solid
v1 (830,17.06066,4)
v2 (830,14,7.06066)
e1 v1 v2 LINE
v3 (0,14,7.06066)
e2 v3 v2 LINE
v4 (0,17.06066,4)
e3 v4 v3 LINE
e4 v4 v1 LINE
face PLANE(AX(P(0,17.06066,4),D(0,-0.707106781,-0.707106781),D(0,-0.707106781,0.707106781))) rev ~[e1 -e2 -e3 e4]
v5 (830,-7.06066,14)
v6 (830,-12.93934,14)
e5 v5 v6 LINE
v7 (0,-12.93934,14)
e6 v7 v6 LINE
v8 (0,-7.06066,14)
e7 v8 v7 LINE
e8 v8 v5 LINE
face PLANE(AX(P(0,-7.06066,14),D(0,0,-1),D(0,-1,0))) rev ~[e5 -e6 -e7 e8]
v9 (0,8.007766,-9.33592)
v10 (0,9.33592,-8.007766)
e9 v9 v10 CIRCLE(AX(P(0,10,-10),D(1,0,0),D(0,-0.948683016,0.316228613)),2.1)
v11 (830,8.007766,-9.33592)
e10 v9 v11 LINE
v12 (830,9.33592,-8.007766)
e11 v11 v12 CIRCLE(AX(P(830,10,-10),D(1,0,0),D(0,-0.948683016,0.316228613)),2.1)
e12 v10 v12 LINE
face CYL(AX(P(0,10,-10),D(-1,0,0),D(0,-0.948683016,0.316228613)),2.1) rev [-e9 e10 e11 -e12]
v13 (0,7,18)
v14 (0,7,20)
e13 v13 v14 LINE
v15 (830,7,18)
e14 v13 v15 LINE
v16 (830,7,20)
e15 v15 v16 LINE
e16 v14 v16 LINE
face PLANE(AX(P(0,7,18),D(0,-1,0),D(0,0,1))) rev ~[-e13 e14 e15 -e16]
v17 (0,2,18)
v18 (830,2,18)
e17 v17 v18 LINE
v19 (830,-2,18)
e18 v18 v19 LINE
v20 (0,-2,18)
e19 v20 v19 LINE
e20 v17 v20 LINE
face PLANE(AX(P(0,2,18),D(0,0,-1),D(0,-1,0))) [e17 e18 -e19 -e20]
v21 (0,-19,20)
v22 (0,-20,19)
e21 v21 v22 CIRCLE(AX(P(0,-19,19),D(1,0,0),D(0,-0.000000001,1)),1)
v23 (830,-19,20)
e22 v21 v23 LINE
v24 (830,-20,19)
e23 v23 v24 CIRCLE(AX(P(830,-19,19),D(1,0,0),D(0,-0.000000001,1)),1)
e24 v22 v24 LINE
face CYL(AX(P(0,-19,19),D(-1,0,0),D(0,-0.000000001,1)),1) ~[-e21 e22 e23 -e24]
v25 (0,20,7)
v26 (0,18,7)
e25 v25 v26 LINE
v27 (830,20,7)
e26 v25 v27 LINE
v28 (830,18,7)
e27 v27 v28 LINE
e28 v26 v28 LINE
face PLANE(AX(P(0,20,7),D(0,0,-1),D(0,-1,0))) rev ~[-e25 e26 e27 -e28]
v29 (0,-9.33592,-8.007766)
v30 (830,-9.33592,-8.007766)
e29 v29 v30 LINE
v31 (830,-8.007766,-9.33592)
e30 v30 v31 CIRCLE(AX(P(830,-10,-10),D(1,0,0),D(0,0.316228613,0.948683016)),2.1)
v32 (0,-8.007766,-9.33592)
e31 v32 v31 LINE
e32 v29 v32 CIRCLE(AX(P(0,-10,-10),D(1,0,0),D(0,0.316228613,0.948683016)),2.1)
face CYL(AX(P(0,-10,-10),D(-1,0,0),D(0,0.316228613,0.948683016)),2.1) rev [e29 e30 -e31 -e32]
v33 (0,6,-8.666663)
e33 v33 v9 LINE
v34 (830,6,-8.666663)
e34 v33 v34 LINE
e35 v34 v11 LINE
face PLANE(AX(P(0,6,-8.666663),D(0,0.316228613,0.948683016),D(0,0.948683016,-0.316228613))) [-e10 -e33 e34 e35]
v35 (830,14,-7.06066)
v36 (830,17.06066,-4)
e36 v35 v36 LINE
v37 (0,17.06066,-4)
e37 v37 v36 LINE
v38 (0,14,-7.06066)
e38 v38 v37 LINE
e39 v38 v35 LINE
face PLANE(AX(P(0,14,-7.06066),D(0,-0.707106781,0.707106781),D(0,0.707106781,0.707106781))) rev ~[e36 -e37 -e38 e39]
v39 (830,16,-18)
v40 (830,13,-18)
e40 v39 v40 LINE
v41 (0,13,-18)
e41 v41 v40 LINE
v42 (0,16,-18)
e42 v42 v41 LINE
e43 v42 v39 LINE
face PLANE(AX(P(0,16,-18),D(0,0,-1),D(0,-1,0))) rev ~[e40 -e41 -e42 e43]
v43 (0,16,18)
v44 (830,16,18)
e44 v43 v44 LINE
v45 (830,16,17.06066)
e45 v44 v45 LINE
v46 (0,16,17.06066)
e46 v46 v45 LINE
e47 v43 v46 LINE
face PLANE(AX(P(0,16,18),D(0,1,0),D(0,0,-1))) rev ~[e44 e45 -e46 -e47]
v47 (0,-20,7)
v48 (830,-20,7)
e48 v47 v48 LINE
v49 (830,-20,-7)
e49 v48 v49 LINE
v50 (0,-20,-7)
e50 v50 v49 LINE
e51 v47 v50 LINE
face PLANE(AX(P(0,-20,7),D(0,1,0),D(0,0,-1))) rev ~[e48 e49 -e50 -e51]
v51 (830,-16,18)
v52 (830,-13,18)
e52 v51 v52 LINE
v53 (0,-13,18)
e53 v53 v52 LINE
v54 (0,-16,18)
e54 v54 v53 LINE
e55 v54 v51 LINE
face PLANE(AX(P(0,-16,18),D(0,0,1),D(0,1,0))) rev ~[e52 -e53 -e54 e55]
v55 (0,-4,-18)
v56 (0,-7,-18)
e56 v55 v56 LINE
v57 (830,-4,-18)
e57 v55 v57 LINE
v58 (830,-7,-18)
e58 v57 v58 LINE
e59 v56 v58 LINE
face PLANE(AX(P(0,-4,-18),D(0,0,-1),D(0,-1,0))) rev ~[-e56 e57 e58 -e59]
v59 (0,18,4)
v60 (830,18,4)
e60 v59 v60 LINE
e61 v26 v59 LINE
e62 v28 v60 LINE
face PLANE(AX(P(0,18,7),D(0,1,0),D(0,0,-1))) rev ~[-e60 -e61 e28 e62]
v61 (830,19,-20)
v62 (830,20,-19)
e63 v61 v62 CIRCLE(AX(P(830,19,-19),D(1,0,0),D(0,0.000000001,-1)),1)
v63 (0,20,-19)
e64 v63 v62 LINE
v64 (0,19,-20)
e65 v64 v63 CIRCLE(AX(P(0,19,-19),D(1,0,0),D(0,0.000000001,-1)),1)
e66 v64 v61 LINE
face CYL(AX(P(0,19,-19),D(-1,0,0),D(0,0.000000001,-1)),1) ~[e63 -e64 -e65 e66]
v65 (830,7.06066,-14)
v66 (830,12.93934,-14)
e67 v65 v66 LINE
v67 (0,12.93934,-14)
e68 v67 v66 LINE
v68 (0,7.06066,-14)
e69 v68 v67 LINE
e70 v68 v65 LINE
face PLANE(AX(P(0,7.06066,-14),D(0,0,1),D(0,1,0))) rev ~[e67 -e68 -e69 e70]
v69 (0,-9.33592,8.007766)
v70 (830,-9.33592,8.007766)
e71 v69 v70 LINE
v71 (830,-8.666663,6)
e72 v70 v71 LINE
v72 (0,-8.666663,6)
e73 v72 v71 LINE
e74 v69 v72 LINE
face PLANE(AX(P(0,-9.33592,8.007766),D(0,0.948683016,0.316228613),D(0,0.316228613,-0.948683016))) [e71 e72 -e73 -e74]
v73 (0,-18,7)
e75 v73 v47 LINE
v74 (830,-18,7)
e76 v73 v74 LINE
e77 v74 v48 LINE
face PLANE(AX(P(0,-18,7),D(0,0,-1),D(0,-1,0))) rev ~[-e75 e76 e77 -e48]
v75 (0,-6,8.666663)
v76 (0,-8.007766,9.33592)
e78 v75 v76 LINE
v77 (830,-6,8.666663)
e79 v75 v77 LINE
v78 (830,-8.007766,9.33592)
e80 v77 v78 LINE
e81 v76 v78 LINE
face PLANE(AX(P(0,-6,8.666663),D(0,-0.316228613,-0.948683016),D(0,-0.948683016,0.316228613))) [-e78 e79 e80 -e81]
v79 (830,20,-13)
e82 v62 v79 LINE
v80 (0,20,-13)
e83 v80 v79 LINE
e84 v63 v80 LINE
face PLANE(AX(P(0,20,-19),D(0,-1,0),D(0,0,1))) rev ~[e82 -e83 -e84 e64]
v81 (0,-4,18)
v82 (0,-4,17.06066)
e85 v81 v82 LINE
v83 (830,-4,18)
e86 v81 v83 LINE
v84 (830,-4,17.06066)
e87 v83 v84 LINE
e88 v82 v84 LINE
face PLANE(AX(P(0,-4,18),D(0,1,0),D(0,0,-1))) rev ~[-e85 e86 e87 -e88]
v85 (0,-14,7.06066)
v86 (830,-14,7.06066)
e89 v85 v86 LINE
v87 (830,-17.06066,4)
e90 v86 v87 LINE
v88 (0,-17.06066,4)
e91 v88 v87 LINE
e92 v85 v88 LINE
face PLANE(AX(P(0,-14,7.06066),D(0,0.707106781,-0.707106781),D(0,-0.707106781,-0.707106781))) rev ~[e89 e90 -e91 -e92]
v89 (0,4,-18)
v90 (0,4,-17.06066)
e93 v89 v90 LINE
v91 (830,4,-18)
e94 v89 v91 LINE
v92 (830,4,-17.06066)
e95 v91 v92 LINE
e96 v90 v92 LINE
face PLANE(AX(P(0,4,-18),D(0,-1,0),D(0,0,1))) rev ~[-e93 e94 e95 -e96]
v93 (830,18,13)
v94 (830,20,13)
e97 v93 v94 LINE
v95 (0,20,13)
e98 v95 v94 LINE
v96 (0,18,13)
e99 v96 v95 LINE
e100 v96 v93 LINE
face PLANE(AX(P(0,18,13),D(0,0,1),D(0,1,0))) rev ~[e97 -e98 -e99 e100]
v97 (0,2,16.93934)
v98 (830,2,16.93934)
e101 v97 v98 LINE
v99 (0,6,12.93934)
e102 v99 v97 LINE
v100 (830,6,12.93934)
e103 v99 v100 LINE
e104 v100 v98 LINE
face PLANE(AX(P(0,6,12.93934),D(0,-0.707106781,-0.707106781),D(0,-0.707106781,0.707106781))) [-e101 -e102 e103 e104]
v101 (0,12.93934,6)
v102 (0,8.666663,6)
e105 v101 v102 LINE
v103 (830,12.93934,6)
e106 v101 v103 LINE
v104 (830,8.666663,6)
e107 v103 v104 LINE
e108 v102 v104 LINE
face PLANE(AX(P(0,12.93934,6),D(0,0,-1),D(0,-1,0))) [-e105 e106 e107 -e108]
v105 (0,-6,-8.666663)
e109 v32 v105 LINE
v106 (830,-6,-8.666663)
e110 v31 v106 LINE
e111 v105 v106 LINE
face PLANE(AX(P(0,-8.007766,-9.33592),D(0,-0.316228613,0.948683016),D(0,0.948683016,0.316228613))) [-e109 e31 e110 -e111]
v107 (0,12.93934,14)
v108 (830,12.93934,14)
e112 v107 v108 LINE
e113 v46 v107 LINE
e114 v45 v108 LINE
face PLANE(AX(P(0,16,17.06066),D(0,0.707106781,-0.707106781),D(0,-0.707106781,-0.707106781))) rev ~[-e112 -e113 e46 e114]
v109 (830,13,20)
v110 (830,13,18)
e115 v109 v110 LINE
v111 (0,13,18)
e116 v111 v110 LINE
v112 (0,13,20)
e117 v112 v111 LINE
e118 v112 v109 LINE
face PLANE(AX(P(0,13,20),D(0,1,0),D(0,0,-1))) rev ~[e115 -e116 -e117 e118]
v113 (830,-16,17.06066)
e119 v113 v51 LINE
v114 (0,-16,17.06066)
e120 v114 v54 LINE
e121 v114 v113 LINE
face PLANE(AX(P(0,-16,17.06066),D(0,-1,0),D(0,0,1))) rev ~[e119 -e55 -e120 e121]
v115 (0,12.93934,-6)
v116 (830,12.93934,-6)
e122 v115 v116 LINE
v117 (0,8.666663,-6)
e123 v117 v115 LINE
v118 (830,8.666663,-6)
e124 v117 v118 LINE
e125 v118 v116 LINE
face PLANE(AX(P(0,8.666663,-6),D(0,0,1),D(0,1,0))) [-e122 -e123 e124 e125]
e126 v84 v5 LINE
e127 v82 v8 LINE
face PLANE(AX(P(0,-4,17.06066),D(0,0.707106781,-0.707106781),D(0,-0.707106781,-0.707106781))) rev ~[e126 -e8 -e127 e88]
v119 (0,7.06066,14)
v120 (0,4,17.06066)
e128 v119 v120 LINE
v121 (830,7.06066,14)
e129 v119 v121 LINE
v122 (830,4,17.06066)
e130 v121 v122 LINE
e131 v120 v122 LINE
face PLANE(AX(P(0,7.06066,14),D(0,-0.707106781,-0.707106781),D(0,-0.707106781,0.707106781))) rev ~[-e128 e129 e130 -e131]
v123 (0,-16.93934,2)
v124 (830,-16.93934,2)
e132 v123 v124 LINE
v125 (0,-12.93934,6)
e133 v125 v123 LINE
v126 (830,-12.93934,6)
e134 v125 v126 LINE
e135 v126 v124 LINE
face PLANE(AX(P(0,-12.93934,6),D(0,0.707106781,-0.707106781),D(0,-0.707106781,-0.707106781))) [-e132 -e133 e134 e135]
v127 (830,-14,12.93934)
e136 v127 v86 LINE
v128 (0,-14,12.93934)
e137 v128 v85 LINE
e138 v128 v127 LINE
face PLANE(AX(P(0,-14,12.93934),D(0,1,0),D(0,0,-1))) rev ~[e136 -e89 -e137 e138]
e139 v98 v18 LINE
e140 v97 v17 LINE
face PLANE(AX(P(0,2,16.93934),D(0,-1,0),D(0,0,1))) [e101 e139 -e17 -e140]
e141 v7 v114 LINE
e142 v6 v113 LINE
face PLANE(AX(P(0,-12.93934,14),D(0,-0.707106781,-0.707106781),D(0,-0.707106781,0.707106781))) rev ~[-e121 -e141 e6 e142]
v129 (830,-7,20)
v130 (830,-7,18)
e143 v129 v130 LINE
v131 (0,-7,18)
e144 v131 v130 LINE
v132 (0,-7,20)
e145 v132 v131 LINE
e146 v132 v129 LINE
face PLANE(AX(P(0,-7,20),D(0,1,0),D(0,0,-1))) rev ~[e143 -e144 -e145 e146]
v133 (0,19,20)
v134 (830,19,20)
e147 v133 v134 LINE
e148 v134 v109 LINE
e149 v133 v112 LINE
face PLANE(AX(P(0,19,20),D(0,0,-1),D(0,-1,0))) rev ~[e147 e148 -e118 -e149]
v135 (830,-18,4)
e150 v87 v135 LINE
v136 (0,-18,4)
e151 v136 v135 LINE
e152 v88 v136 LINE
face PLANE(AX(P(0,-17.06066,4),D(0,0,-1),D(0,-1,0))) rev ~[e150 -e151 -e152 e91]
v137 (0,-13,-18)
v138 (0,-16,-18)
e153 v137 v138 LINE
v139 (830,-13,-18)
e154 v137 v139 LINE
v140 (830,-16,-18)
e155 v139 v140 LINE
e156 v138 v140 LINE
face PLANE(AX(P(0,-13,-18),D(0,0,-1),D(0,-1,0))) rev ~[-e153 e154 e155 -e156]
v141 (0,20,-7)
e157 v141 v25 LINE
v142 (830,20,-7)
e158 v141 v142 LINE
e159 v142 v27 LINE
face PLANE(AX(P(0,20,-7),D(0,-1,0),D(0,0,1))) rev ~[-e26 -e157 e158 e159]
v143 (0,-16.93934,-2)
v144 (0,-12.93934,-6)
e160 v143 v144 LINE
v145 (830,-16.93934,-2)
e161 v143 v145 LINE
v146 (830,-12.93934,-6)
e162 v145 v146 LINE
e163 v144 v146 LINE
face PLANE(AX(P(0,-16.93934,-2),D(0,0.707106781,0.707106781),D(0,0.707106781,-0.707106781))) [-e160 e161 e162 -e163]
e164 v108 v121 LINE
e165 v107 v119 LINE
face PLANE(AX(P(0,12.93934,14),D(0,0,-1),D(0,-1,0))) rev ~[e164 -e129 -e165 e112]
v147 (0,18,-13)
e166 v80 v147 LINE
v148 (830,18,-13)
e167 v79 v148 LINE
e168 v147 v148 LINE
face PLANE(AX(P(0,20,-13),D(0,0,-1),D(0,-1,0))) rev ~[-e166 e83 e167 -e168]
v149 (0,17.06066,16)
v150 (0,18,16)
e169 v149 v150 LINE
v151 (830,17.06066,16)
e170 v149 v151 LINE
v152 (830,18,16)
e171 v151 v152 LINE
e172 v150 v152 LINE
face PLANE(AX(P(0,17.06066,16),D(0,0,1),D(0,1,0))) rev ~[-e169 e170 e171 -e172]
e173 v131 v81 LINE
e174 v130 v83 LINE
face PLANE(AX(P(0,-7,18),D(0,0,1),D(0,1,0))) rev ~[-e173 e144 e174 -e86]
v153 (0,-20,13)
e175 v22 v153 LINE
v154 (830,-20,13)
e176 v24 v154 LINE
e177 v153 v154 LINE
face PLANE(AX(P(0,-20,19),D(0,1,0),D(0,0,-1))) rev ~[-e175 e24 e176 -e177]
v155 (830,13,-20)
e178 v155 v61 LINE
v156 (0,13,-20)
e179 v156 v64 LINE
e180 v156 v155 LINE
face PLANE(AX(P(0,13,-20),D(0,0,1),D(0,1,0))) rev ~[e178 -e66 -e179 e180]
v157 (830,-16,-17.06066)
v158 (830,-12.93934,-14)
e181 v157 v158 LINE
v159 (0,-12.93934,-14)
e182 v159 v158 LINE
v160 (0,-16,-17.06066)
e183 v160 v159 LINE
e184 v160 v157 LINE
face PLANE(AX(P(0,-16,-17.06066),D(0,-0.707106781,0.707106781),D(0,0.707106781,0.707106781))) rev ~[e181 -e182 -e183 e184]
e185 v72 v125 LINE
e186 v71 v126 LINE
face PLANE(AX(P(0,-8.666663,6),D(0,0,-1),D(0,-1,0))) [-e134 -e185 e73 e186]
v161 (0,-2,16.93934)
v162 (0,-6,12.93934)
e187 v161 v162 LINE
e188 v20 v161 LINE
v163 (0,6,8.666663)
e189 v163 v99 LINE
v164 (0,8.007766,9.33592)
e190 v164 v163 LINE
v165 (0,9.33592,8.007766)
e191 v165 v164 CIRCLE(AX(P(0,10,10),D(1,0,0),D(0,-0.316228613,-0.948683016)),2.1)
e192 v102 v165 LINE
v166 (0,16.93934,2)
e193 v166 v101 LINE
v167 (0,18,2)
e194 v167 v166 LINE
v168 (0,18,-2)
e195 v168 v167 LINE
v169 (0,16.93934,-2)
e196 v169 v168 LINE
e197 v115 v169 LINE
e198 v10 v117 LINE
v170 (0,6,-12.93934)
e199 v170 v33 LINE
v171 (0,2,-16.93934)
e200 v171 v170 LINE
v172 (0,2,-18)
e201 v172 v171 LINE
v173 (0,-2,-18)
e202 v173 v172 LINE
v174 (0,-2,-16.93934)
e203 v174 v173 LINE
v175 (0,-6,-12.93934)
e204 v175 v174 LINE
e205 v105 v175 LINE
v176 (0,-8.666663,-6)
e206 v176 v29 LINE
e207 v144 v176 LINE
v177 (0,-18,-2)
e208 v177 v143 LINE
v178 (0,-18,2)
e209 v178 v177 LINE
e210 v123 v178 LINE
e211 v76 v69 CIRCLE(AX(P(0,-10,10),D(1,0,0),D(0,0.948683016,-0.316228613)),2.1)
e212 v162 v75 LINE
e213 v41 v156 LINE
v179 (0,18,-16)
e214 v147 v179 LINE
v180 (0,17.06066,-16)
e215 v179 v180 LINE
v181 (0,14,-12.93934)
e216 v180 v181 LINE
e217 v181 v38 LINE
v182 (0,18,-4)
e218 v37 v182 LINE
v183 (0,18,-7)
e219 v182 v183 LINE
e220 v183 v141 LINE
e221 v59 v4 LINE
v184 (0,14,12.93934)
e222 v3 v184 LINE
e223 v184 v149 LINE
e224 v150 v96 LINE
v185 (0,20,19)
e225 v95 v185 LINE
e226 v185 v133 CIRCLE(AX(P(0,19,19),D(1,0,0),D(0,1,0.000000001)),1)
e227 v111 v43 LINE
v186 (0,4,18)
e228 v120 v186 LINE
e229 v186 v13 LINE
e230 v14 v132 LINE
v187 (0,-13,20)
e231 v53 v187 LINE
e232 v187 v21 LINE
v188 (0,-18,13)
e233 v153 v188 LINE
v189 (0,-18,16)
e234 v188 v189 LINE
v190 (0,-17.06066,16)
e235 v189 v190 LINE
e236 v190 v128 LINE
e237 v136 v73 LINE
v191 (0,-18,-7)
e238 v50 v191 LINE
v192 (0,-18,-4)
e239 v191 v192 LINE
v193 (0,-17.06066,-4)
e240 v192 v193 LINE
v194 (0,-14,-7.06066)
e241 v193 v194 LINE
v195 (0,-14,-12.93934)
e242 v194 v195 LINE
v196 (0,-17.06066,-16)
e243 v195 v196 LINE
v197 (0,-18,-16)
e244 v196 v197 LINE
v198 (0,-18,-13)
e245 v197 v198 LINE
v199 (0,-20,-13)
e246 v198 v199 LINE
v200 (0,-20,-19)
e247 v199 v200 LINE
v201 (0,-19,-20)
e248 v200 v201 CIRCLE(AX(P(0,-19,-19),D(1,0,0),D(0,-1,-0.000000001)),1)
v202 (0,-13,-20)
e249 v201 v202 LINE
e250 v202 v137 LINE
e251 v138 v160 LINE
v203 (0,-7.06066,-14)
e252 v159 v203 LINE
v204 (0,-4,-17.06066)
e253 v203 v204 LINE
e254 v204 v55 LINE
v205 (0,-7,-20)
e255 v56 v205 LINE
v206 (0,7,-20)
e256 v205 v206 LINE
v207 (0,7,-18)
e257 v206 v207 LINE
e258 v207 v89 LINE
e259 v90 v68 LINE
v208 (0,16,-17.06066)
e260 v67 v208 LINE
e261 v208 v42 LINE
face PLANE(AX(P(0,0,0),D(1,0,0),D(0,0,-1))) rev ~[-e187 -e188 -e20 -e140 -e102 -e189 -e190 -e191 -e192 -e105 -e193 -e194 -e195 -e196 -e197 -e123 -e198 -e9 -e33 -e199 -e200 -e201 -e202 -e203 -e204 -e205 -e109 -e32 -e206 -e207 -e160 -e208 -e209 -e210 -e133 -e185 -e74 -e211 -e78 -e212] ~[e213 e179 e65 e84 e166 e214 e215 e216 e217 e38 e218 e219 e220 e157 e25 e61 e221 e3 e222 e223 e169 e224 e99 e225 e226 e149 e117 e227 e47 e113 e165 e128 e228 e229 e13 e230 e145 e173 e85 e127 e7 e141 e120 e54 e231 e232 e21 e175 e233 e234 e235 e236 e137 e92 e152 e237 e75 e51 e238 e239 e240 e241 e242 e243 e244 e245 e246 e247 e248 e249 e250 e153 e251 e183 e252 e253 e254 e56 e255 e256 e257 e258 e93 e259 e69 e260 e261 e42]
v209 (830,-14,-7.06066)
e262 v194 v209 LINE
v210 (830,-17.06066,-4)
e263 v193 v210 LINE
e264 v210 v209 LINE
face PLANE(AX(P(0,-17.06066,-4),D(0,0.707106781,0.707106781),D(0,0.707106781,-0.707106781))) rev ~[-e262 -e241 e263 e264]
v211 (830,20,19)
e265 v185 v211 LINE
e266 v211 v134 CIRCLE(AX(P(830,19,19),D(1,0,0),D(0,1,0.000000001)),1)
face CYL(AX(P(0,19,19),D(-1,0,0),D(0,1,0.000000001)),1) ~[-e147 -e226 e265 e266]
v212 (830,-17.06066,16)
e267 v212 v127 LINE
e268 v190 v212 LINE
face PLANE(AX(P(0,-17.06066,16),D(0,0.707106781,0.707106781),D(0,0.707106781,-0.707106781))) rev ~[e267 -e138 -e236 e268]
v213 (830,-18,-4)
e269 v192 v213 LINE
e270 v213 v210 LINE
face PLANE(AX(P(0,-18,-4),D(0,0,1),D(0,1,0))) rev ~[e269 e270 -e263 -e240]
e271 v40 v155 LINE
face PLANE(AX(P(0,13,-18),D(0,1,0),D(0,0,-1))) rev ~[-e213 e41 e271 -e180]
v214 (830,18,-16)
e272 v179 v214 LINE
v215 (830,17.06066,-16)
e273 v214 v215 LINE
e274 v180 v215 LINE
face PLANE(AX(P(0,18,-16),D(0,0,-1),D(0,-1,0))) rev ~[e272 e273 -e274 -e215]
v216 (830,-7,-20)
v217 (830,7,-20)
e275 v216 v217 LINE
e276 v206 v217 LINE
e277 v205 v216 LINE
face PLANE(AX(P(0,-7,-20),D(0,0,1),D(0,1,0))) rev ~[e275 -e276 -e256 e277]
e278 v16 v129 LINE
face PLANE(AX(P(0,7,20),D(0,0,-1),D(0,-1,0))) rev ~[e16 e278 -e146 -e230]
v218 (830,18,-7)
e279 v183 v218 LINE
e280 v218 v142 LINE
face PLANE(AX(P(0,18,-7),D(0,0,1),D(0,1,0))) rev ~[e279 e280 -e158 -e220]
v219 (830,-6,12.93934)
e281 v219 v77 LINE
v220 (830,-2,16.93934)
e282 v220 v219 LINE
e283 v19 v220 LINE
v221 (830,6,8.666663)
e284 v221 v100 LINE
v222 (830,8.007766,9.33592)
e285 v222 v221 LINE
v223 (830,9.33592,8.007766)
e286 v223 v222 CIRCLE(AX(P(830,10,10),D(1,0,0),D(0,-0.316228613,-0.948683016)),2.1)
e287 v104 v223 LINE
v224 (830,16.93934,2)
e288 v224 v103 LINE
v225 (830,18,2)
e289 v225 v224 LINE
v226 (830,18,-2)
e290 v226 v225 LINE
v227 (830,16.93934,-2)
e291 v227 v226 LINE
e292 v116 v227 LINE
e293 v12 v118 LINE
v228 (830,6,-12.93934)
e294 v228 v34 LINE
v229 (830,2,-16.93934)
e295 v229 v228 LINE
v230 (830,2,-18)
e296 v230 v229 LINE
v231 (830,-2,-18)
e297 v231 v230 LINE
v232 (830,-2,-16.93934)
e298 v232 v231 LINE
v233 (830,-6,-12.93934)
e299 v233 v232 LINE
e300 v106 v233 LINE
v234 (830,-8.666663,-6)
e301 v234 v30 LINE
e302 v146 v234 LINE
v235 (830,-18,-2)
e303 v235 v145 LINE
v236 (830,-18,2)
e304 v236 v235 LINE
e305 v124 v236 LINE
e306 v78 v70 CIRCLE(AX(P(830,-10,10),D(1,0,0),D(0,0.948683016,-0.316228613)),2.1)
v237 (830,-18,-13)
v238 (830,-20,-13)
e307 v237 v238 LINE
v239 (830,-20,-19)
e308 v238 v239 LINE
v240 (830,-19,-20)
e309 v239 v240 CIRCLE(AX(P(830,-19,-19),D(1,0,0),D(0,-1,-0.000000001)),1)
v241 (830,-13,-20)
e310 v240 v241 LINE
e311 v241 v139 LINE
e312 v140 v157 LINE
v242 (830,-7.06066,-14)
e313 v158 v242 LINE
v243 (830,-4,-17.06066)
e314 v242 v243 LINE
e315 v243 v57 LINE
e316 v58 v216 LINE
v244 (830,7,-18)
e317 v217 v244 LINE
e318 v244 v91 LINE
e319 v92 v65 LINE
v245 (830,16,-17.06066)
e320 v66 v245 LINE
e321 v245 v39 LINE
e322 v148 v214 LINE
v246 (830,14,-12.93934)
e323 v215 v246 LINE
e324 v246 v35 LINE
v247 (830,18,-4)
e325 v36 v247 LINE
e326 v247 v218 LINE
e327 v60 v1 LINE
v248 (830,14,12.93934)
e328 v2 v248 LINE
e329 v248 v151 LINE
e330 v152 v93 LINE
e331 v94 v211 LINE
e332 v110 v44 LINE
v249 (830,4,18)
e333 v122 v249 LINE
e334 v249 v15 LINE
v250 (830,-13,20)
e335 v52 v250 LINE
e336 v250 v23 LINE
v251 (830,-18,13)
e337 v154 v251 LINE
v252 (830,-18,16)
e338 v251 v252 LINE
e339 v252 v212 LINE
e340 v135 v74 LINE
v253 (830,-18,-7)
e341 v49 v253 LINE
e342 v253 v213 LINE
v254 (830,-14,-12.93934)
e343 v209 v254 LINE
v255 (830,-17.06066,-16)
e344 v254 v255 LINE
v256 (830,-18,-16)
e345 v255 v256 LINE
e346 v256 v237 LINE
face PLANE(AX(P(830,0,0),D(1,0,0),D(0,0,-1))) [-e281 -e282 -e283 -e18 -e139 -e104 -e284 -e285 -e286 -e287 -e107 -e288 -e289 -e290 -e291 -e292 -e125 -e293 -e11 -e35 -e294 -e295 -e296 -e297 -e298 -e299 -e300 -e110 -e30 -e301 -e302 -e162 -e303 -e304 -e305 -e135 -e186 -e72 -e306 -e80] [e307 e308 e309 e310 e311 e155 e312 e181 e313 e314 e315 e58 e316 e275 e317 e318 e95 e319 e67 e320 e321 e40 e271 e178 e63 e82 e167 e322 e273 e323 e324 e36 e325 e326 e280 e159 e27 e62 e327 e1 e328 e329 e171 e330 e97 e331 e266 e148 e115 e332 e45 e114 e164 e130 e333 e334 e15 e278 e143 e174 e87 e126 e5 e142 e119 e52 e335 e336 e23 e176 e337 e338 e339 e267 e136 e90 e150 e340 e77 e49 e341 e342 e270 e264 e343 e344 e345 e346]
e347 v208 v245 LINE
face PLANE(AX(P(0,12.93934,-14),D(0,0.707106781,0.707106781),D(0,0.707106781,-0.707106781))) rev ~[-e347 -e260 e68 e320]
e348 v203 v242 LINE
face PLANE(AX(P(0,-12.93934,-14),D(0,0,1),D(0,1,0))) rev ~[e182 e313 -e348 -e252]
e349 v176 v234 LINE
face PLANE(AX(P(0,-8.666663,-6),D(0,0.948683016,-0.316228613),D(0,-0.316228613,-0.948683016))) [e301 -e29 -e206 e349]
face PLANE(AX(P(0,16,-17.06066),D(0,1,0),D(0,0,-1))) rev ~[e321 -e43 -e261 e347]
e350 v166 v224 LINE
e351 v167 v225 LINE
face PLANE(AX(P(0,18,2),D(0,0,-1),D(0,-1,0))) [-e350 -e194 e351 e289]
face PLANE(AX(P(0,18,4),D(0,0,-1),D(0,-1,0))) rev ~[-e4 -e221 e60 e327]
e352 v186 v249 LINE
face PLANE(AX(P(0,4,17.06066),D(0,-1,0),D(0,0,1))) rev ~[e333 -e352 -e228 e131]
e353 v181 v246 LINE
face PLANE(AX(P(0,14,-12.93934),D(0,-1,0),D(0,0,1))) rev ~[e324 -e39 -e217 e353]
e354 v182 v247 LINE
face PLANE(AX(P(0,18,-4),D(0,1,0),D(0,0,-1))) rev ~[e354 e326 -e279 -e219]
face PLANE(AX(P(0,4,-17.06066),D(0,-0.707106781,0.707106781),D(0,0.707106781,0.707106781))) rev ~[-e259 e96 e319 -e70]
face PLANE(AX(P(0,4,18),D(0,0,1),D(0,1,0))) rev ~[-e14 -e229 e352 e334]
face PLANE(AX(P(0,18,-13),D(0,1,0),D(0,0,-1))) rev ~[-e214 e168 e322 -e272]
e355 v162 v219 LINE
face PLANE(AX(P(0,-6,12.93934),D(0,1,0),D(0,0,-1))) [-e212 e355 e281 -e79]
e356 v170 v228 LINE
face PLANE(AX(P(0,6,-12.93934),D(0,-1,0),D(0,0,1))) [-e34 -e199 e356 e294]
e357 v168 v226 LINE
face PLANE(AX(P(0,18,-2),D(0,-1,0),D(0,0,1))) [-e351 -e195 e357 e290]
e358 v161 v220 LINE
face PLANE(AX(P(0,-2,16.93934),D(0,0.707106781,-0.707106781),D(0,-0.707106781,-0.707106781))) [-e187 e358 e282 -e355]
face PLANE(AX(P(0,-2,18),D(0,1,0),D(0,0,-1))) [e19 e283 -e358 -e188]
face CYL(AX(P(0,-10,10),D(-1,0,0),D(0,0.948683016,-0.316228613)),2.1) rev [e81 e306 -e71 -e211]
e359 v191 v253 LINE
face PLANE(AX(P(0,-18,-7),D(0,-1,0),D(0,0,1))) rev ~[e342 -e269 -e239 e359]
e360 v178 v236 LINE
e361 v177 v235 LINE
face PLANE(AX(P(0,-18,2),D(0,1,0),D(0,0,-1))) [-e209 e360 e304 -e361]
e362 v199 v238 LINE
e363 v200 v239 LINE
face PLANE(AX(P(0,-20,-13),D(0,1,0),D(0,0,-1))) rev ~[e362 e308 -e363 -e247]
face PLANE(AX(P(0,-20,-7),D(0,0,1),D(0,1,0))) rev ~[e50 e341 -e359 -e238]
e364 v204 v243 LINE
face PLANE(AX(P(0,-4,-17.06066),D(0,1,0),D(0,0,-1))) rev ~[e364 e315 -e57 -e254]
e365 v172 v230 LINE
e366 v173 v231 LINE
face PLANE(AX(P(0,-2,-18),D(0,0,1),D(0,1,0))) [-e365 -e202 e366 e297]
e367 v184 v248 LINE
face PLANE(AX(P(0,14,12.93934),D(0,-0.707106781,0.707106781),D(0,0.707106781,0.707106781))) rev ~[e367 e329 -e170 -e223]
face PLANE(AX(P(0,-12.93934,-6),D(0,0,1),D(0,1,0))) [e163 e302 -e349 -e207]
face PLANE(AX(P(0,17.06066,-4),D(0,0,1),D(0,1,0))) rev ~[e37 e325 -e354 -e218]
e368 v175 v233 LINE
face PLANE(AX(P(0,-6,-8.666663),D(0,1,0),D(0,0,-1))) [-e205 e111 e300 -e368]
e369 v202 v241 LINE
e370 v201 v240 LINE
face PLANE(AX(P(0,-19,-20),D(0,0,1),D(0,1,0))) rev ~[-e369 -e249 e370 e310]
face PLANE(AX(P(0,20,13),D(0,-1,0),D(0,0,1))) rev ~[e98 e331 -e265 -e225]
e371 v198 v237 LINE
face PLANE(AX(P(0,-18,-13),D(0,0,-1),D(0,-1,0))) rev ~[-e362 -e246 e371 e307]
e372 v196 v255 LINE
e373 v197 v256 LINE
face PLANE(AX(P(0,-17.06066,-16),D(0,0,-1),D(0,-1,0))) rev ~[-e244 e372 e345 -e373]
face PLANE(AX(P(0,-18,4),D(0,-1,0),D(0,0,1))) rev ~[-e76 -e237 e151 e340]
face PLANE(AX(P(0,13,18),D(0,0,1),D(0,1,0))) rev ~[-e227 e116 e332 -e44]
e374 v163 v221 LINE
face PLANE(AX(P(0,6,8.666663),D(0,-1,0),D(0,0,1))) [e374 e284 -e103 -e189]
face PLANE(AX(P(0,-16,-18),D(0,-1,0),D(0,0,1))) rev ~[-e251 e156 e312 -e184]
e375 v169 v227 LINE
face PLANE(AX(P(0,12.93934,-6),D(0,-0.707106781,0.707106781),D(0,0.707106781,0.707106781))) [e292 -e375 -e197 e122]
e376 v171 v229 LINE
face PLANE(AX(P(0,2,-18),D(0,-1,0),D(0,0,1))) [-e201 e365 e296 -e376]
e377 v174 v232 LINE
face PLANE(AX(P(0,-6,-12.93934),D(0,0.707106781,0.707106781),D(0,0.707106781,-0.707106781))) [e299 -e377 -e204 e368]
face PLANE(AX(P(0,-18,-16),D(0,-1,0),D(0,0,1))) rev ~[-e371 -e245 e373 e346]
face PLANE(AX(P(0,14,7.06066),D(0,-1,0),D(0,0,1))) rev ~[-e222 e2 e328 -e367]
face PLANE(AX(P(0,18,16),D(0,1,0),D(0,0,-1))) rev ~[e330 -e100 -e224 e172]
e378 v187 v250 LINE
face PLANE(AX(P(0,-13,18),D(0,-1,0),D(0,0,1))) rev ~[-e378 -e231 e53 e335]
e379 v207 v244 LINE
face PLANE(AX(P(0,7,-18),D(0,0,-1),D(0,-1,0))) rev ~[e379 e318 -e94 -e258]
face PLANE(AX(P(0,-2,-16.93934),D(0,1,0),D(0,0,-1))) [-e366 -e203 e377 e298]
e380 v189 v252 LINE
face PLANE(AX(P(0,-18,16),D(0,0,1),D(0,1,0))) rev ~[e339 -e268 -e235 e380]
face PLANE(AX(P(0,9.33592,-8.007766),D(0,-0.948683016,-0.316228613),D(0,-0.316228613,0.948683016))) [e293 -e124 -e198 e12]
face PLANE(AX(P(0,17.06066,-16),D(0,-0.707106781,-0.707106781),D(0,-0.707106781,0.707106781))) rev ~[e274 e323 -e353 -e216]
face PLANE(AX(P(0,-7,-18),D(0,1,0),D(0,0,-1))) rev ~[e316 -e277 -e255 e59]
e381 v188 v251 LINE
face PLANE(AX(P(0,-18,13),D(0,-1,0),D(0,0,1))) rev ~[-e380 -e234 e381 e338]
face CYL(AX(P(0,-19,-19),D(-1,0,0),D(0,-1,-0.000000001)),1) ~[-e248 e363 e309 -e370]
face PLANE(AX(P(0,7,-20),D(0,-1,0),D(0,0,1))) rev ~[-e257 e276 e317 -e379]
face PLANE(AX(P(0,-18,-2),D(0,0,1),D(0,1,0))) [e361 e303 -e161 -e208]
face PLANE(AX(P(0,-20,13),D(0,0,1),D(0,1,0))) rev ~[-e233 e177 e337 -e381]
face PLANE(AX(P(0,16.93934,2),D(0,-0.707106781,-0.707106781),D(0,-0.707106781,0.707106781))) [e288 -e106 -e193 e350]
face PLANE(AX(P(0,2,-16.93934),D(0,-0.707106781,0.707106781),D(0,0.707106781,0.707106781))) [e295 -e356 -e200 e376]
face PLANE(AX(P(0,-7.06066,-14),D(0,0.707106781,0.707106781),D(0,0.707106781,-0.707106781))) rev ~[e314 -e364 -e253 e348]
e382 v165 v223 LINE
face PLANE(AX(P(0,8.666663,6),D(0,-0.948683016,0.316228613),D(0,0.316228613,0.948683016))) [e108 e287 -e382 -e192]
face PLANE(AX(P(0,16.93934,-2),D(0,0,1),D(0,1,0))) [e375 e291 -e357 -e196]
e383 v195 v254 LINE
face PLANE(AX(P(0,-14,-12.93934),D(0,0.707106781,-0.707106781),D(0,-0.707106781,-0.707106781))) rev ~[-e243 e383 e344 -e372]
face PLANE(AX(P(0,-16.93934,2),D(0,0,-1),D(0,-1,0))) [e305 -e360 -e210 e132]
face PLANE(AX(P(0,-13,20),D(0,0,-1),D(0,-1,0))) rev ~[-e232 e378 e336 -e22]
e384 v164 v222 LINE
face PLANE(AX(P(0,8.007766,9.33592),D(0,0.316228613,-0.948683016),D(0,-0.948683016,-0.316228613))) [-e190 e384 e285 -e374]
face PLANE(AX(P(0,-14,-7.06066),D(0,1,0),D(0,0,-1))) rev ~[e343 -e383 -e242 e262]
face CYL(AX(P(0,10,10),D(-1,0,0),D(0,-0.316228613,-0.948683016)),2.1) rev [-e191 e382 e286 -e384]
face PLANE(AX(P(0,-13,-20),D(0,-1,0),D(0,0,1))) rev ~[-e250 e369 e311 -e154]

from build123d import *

# Parameters (mm, degrees)
BOSS_EXTRUDE1_DEPTH = 830


with BuildPart() as part:
    # Sketch1 → Boss-Extrude1 (new body)
    with BuildSketch(Plane(origin=(0, 0, 0), x_dir=(0, 0, -1), z_dir=(1, 0, 0))):
        with BuildLine():
            Line((-20, 19), (-20, 13))
            Line((-20, 13), (-18, 13))
            Line((-18, 13), (-18, 16))
            Line((-18, 16), (-17.060660172, 16))
            Line((-17.060660172, 16), (-14, 12.939339828))
            Line((-14, 12.939339828), (-14, 7.060660172))
            Line((-14, 7.060660172), (-17.060660172, 4))
            Line((-17.060660172, 4), (-18, 4))
            Line((-18, 4), (-18, 7))
            Line((-18, 7), (-20, 7))
            Line((-20, 7), (-20, -7))
            Line((-20, -7), (-18, -7))
            Line((-18, -7), (-18, -4))
            Line((-18, -4), (-17.060660172, -4))
            Line((-17.060660172, -4), (-14, -7.060660172))
            Line((-14, -7.060660172), (-14, -12.939339828))
            Line((-14, -12.939339828), (-17.060660172, -16))
            Line((-17.060660172, -16), (-18, -16))
            Line((-18, -16), (-18, -13))
            Line((-18, -13), (-20, -13))
            Line((-20, -13), (-20, -19))
            ThreePointArc((-20, -19), (-19.707106781, -19.707106781), (-19, -20))
            Line((-19, -20), (-13, -20))
            Line((-13, -20), (-13, -18))
            Line((-13, -18), (-16, -18))
            Line((-16, -18), (-16, -17.060660172))
            Line((-16, -17.060660172), (-12.939339828, -14))
            Line((-12.939339828, -14), (-7.060660172, -14))
            Line((-7.060660172, -14), (-4, -17.060660172))
            Line((-4, -17.060660172), (-4, -18))
            Line((-4, -18), (-7, -18))
            Line((-7, -18), (-7, -20))
            Line((-7, -20), (7, -20))
            Line((7, -20), (7, -18))
            Line((7, -18), (4, -18))
            Line((4, -18), (4, -17.060660172))
            Line((4, -17.060660172), (7.060660172, -14))
            Line((7.060660172, -14), (12.939339828, -14))
            Line((12.939339828, -14), (16, -17.060660172))
            Line((16, -17.060660172), (16, -18))
            Line((16, -18), (13, -18))
            Line((13, -18), (13, -20))
            Line((13, -20), (19, -20))
            ThreePointArc((19, -20), (19.707106781, -19.707106781), (20, -19))
            Line((20, -19), (20, -13))
            Line((20, -13), (18, -13))
            Line((18, -13), (18, -16))
            Line((18, -16), (17.060660172, -16))
            Line((17.060660172, -16), (14, -12.939339828))
            Line((14, -12.939339828), (14, -7.060660172))
            Line((14, -7.060660172), (17.060660172, -4))
            Line((17.060660172, -4), (18, -4))
            Line((18, -4), (18, -7))
            Line((18, -7), (20, -7))
            Line((20, -7), (20, 7))
            Line((20, 7), (18, 7))
            Line((18, 7), (18, 4))
            Line((18, 4), (17.060660172, 4))
            Line((17.060660172, 4), (14, 7.060660172))
            Line((14, 7.060660172), (14, 12.939339828))
            Line((14, 12.939339828), (17.060660172, 16))
            Line((17.060660172, 16), (18, 16))
            Line((18, 16), (18, 13))
            Line((18, 13), (20, 13))
            Line((20, 13), (20, 19))
            ThreePointArc((20, 19), (19.707106781, 19.707106781), (19, 20))
            Line((19, 20), (13, 20))
            Line((13, 20), (13, 18))
            Line((13, 18), (16, 18))
            Line((16, 18), (16, 17.060660172))
            Line((16, 17.060660172), (12.939339828, 14))
            Line((12.939339828, 14), (7.060660172, 14))
            Line((7.060660172, 14), (4, 17.060660172))
            Line((4, 17.060660172), (4, 18))
            Line((4, 18), (7, 18))
            Line((7, 18), (7, 20))
            Line((7, 20), (-7, 20))
            Line((-7, 20), (-7, 18))
            Line((-7, 18), (-4, 18))
            Line((-4, 18), (-4, 17.060660172))
            Line((-4, 17.060660172), (-7.060660172, 14))
            Line((-7.060660172, 14), (-12.939339828, 14))
            Line((-12.939339828, 14), (-16, 17.060660172))
            Line((-16, 17.060660172), (-16, 18))
            Line((-16, 18), (-13, 18))
            Line((-13, 18), (-13, 20))
            Line((-13, 20), (-19, 20))
            ThreePointArc((-19, 20), (-19.707106781, 19.707106781), (-20, 19))
        make_face()
        with BuildLine():
            Line((-16.939339828, 2), (-18, 2))
            Line((-18, 2), (-18, -2))
            Line((-18, -2), (-16.939339828, -2))
            Line((-16.939339828, -2), (-12.939339828, -6))
            Line((-12.939339828, -6), (-8.666662697, -6))
            Line((-8.666662697, -6), (-9.335919912, -8.007765667))
            ThreePointArc((-9.335919912, -8.007765667), (-11.48492424, -11.48492424), (-8.007765667, -9.335919912))
            Line((-8.007765667, -9.335919912), (-6, -8.666662697))
            Line((-6, -8.666662697), (-6, -12.939339828))
            Line((-6, -12.939339828), (-2, -16.939339828))
            Line((-2, -16.939339828), (-2, -18))
            Line((-2, -18), (2, -18))
            Line((2, -18), (2, -16.939339828))
            Line((2, -16.939339828), (6, -12.939339828))
            Line((6, -12.939339828), (6, -8.666662697))
            Line((6, -8.666662697), (8.007765667, -9.335919912))
            ThreePointArc((8.007765667, -9.335919912), (11.48492424, -11.48492424), (9.335919912, -8.007765667))
            Line((9.335919912, -8.007765667), (8.666662697, -6))
            Line((8.666662697, -6), (12.939339828, -6))
            Line((12.939339828, -6), (16.939339828, -2))
            Line((16.939339828, -2), (18, -2))
            Line((18, -2), (18, 2))
            Line((18, 2), (16.939339828, 2))
            Line((16.939339828, 2), (12.939339828, 6))
            Line((12.939339828, 6), (8.666662697, 6))
            Line((8.666662697, 6), (9.335919912, 8.007765667))
            ThreePointArc((9.335919912, 8.007765667), (11.48492424, 11.48492424), (8.007765667, 9.335919912))
            Line((8.007765667, 9.335919912), (6, 8.666662697))
            Line((6, 8.666662697), (6, 12.939339828))
            Line((6, 12.939339828), (2, 16.939339828))
            Line((2, 16.939339828), (2, 18))
            Line((2, 18), (-2, 18))
            Line((-2, 18), (-2, 16.939339828))
            Line((-2, 16.939339828), (-6, 12.939339828))
            Line((-6, 12.939339828), (-6, 8.666662697))
            Line((-6, 8.666662697), (-8.007765667, 9.335919912))
            ThreePointArc((-8.007765667, 9.335919912), (-11.48492424, 11.48492424), (-9.335919912, 8.007765667))
            Line((-9.335919912, 8.007765667), (-8.666662697, 6))
            Line((-8.666662697, 6), (-12.939339828, 6))
            Line((-12.939339828, 6), (-16.939339828, 2))
        make_face(mode=Mode.SUBTRACT)
    extrude(amount=BOSS_EXTRUDE1_DEPTH)


solid = part.part
